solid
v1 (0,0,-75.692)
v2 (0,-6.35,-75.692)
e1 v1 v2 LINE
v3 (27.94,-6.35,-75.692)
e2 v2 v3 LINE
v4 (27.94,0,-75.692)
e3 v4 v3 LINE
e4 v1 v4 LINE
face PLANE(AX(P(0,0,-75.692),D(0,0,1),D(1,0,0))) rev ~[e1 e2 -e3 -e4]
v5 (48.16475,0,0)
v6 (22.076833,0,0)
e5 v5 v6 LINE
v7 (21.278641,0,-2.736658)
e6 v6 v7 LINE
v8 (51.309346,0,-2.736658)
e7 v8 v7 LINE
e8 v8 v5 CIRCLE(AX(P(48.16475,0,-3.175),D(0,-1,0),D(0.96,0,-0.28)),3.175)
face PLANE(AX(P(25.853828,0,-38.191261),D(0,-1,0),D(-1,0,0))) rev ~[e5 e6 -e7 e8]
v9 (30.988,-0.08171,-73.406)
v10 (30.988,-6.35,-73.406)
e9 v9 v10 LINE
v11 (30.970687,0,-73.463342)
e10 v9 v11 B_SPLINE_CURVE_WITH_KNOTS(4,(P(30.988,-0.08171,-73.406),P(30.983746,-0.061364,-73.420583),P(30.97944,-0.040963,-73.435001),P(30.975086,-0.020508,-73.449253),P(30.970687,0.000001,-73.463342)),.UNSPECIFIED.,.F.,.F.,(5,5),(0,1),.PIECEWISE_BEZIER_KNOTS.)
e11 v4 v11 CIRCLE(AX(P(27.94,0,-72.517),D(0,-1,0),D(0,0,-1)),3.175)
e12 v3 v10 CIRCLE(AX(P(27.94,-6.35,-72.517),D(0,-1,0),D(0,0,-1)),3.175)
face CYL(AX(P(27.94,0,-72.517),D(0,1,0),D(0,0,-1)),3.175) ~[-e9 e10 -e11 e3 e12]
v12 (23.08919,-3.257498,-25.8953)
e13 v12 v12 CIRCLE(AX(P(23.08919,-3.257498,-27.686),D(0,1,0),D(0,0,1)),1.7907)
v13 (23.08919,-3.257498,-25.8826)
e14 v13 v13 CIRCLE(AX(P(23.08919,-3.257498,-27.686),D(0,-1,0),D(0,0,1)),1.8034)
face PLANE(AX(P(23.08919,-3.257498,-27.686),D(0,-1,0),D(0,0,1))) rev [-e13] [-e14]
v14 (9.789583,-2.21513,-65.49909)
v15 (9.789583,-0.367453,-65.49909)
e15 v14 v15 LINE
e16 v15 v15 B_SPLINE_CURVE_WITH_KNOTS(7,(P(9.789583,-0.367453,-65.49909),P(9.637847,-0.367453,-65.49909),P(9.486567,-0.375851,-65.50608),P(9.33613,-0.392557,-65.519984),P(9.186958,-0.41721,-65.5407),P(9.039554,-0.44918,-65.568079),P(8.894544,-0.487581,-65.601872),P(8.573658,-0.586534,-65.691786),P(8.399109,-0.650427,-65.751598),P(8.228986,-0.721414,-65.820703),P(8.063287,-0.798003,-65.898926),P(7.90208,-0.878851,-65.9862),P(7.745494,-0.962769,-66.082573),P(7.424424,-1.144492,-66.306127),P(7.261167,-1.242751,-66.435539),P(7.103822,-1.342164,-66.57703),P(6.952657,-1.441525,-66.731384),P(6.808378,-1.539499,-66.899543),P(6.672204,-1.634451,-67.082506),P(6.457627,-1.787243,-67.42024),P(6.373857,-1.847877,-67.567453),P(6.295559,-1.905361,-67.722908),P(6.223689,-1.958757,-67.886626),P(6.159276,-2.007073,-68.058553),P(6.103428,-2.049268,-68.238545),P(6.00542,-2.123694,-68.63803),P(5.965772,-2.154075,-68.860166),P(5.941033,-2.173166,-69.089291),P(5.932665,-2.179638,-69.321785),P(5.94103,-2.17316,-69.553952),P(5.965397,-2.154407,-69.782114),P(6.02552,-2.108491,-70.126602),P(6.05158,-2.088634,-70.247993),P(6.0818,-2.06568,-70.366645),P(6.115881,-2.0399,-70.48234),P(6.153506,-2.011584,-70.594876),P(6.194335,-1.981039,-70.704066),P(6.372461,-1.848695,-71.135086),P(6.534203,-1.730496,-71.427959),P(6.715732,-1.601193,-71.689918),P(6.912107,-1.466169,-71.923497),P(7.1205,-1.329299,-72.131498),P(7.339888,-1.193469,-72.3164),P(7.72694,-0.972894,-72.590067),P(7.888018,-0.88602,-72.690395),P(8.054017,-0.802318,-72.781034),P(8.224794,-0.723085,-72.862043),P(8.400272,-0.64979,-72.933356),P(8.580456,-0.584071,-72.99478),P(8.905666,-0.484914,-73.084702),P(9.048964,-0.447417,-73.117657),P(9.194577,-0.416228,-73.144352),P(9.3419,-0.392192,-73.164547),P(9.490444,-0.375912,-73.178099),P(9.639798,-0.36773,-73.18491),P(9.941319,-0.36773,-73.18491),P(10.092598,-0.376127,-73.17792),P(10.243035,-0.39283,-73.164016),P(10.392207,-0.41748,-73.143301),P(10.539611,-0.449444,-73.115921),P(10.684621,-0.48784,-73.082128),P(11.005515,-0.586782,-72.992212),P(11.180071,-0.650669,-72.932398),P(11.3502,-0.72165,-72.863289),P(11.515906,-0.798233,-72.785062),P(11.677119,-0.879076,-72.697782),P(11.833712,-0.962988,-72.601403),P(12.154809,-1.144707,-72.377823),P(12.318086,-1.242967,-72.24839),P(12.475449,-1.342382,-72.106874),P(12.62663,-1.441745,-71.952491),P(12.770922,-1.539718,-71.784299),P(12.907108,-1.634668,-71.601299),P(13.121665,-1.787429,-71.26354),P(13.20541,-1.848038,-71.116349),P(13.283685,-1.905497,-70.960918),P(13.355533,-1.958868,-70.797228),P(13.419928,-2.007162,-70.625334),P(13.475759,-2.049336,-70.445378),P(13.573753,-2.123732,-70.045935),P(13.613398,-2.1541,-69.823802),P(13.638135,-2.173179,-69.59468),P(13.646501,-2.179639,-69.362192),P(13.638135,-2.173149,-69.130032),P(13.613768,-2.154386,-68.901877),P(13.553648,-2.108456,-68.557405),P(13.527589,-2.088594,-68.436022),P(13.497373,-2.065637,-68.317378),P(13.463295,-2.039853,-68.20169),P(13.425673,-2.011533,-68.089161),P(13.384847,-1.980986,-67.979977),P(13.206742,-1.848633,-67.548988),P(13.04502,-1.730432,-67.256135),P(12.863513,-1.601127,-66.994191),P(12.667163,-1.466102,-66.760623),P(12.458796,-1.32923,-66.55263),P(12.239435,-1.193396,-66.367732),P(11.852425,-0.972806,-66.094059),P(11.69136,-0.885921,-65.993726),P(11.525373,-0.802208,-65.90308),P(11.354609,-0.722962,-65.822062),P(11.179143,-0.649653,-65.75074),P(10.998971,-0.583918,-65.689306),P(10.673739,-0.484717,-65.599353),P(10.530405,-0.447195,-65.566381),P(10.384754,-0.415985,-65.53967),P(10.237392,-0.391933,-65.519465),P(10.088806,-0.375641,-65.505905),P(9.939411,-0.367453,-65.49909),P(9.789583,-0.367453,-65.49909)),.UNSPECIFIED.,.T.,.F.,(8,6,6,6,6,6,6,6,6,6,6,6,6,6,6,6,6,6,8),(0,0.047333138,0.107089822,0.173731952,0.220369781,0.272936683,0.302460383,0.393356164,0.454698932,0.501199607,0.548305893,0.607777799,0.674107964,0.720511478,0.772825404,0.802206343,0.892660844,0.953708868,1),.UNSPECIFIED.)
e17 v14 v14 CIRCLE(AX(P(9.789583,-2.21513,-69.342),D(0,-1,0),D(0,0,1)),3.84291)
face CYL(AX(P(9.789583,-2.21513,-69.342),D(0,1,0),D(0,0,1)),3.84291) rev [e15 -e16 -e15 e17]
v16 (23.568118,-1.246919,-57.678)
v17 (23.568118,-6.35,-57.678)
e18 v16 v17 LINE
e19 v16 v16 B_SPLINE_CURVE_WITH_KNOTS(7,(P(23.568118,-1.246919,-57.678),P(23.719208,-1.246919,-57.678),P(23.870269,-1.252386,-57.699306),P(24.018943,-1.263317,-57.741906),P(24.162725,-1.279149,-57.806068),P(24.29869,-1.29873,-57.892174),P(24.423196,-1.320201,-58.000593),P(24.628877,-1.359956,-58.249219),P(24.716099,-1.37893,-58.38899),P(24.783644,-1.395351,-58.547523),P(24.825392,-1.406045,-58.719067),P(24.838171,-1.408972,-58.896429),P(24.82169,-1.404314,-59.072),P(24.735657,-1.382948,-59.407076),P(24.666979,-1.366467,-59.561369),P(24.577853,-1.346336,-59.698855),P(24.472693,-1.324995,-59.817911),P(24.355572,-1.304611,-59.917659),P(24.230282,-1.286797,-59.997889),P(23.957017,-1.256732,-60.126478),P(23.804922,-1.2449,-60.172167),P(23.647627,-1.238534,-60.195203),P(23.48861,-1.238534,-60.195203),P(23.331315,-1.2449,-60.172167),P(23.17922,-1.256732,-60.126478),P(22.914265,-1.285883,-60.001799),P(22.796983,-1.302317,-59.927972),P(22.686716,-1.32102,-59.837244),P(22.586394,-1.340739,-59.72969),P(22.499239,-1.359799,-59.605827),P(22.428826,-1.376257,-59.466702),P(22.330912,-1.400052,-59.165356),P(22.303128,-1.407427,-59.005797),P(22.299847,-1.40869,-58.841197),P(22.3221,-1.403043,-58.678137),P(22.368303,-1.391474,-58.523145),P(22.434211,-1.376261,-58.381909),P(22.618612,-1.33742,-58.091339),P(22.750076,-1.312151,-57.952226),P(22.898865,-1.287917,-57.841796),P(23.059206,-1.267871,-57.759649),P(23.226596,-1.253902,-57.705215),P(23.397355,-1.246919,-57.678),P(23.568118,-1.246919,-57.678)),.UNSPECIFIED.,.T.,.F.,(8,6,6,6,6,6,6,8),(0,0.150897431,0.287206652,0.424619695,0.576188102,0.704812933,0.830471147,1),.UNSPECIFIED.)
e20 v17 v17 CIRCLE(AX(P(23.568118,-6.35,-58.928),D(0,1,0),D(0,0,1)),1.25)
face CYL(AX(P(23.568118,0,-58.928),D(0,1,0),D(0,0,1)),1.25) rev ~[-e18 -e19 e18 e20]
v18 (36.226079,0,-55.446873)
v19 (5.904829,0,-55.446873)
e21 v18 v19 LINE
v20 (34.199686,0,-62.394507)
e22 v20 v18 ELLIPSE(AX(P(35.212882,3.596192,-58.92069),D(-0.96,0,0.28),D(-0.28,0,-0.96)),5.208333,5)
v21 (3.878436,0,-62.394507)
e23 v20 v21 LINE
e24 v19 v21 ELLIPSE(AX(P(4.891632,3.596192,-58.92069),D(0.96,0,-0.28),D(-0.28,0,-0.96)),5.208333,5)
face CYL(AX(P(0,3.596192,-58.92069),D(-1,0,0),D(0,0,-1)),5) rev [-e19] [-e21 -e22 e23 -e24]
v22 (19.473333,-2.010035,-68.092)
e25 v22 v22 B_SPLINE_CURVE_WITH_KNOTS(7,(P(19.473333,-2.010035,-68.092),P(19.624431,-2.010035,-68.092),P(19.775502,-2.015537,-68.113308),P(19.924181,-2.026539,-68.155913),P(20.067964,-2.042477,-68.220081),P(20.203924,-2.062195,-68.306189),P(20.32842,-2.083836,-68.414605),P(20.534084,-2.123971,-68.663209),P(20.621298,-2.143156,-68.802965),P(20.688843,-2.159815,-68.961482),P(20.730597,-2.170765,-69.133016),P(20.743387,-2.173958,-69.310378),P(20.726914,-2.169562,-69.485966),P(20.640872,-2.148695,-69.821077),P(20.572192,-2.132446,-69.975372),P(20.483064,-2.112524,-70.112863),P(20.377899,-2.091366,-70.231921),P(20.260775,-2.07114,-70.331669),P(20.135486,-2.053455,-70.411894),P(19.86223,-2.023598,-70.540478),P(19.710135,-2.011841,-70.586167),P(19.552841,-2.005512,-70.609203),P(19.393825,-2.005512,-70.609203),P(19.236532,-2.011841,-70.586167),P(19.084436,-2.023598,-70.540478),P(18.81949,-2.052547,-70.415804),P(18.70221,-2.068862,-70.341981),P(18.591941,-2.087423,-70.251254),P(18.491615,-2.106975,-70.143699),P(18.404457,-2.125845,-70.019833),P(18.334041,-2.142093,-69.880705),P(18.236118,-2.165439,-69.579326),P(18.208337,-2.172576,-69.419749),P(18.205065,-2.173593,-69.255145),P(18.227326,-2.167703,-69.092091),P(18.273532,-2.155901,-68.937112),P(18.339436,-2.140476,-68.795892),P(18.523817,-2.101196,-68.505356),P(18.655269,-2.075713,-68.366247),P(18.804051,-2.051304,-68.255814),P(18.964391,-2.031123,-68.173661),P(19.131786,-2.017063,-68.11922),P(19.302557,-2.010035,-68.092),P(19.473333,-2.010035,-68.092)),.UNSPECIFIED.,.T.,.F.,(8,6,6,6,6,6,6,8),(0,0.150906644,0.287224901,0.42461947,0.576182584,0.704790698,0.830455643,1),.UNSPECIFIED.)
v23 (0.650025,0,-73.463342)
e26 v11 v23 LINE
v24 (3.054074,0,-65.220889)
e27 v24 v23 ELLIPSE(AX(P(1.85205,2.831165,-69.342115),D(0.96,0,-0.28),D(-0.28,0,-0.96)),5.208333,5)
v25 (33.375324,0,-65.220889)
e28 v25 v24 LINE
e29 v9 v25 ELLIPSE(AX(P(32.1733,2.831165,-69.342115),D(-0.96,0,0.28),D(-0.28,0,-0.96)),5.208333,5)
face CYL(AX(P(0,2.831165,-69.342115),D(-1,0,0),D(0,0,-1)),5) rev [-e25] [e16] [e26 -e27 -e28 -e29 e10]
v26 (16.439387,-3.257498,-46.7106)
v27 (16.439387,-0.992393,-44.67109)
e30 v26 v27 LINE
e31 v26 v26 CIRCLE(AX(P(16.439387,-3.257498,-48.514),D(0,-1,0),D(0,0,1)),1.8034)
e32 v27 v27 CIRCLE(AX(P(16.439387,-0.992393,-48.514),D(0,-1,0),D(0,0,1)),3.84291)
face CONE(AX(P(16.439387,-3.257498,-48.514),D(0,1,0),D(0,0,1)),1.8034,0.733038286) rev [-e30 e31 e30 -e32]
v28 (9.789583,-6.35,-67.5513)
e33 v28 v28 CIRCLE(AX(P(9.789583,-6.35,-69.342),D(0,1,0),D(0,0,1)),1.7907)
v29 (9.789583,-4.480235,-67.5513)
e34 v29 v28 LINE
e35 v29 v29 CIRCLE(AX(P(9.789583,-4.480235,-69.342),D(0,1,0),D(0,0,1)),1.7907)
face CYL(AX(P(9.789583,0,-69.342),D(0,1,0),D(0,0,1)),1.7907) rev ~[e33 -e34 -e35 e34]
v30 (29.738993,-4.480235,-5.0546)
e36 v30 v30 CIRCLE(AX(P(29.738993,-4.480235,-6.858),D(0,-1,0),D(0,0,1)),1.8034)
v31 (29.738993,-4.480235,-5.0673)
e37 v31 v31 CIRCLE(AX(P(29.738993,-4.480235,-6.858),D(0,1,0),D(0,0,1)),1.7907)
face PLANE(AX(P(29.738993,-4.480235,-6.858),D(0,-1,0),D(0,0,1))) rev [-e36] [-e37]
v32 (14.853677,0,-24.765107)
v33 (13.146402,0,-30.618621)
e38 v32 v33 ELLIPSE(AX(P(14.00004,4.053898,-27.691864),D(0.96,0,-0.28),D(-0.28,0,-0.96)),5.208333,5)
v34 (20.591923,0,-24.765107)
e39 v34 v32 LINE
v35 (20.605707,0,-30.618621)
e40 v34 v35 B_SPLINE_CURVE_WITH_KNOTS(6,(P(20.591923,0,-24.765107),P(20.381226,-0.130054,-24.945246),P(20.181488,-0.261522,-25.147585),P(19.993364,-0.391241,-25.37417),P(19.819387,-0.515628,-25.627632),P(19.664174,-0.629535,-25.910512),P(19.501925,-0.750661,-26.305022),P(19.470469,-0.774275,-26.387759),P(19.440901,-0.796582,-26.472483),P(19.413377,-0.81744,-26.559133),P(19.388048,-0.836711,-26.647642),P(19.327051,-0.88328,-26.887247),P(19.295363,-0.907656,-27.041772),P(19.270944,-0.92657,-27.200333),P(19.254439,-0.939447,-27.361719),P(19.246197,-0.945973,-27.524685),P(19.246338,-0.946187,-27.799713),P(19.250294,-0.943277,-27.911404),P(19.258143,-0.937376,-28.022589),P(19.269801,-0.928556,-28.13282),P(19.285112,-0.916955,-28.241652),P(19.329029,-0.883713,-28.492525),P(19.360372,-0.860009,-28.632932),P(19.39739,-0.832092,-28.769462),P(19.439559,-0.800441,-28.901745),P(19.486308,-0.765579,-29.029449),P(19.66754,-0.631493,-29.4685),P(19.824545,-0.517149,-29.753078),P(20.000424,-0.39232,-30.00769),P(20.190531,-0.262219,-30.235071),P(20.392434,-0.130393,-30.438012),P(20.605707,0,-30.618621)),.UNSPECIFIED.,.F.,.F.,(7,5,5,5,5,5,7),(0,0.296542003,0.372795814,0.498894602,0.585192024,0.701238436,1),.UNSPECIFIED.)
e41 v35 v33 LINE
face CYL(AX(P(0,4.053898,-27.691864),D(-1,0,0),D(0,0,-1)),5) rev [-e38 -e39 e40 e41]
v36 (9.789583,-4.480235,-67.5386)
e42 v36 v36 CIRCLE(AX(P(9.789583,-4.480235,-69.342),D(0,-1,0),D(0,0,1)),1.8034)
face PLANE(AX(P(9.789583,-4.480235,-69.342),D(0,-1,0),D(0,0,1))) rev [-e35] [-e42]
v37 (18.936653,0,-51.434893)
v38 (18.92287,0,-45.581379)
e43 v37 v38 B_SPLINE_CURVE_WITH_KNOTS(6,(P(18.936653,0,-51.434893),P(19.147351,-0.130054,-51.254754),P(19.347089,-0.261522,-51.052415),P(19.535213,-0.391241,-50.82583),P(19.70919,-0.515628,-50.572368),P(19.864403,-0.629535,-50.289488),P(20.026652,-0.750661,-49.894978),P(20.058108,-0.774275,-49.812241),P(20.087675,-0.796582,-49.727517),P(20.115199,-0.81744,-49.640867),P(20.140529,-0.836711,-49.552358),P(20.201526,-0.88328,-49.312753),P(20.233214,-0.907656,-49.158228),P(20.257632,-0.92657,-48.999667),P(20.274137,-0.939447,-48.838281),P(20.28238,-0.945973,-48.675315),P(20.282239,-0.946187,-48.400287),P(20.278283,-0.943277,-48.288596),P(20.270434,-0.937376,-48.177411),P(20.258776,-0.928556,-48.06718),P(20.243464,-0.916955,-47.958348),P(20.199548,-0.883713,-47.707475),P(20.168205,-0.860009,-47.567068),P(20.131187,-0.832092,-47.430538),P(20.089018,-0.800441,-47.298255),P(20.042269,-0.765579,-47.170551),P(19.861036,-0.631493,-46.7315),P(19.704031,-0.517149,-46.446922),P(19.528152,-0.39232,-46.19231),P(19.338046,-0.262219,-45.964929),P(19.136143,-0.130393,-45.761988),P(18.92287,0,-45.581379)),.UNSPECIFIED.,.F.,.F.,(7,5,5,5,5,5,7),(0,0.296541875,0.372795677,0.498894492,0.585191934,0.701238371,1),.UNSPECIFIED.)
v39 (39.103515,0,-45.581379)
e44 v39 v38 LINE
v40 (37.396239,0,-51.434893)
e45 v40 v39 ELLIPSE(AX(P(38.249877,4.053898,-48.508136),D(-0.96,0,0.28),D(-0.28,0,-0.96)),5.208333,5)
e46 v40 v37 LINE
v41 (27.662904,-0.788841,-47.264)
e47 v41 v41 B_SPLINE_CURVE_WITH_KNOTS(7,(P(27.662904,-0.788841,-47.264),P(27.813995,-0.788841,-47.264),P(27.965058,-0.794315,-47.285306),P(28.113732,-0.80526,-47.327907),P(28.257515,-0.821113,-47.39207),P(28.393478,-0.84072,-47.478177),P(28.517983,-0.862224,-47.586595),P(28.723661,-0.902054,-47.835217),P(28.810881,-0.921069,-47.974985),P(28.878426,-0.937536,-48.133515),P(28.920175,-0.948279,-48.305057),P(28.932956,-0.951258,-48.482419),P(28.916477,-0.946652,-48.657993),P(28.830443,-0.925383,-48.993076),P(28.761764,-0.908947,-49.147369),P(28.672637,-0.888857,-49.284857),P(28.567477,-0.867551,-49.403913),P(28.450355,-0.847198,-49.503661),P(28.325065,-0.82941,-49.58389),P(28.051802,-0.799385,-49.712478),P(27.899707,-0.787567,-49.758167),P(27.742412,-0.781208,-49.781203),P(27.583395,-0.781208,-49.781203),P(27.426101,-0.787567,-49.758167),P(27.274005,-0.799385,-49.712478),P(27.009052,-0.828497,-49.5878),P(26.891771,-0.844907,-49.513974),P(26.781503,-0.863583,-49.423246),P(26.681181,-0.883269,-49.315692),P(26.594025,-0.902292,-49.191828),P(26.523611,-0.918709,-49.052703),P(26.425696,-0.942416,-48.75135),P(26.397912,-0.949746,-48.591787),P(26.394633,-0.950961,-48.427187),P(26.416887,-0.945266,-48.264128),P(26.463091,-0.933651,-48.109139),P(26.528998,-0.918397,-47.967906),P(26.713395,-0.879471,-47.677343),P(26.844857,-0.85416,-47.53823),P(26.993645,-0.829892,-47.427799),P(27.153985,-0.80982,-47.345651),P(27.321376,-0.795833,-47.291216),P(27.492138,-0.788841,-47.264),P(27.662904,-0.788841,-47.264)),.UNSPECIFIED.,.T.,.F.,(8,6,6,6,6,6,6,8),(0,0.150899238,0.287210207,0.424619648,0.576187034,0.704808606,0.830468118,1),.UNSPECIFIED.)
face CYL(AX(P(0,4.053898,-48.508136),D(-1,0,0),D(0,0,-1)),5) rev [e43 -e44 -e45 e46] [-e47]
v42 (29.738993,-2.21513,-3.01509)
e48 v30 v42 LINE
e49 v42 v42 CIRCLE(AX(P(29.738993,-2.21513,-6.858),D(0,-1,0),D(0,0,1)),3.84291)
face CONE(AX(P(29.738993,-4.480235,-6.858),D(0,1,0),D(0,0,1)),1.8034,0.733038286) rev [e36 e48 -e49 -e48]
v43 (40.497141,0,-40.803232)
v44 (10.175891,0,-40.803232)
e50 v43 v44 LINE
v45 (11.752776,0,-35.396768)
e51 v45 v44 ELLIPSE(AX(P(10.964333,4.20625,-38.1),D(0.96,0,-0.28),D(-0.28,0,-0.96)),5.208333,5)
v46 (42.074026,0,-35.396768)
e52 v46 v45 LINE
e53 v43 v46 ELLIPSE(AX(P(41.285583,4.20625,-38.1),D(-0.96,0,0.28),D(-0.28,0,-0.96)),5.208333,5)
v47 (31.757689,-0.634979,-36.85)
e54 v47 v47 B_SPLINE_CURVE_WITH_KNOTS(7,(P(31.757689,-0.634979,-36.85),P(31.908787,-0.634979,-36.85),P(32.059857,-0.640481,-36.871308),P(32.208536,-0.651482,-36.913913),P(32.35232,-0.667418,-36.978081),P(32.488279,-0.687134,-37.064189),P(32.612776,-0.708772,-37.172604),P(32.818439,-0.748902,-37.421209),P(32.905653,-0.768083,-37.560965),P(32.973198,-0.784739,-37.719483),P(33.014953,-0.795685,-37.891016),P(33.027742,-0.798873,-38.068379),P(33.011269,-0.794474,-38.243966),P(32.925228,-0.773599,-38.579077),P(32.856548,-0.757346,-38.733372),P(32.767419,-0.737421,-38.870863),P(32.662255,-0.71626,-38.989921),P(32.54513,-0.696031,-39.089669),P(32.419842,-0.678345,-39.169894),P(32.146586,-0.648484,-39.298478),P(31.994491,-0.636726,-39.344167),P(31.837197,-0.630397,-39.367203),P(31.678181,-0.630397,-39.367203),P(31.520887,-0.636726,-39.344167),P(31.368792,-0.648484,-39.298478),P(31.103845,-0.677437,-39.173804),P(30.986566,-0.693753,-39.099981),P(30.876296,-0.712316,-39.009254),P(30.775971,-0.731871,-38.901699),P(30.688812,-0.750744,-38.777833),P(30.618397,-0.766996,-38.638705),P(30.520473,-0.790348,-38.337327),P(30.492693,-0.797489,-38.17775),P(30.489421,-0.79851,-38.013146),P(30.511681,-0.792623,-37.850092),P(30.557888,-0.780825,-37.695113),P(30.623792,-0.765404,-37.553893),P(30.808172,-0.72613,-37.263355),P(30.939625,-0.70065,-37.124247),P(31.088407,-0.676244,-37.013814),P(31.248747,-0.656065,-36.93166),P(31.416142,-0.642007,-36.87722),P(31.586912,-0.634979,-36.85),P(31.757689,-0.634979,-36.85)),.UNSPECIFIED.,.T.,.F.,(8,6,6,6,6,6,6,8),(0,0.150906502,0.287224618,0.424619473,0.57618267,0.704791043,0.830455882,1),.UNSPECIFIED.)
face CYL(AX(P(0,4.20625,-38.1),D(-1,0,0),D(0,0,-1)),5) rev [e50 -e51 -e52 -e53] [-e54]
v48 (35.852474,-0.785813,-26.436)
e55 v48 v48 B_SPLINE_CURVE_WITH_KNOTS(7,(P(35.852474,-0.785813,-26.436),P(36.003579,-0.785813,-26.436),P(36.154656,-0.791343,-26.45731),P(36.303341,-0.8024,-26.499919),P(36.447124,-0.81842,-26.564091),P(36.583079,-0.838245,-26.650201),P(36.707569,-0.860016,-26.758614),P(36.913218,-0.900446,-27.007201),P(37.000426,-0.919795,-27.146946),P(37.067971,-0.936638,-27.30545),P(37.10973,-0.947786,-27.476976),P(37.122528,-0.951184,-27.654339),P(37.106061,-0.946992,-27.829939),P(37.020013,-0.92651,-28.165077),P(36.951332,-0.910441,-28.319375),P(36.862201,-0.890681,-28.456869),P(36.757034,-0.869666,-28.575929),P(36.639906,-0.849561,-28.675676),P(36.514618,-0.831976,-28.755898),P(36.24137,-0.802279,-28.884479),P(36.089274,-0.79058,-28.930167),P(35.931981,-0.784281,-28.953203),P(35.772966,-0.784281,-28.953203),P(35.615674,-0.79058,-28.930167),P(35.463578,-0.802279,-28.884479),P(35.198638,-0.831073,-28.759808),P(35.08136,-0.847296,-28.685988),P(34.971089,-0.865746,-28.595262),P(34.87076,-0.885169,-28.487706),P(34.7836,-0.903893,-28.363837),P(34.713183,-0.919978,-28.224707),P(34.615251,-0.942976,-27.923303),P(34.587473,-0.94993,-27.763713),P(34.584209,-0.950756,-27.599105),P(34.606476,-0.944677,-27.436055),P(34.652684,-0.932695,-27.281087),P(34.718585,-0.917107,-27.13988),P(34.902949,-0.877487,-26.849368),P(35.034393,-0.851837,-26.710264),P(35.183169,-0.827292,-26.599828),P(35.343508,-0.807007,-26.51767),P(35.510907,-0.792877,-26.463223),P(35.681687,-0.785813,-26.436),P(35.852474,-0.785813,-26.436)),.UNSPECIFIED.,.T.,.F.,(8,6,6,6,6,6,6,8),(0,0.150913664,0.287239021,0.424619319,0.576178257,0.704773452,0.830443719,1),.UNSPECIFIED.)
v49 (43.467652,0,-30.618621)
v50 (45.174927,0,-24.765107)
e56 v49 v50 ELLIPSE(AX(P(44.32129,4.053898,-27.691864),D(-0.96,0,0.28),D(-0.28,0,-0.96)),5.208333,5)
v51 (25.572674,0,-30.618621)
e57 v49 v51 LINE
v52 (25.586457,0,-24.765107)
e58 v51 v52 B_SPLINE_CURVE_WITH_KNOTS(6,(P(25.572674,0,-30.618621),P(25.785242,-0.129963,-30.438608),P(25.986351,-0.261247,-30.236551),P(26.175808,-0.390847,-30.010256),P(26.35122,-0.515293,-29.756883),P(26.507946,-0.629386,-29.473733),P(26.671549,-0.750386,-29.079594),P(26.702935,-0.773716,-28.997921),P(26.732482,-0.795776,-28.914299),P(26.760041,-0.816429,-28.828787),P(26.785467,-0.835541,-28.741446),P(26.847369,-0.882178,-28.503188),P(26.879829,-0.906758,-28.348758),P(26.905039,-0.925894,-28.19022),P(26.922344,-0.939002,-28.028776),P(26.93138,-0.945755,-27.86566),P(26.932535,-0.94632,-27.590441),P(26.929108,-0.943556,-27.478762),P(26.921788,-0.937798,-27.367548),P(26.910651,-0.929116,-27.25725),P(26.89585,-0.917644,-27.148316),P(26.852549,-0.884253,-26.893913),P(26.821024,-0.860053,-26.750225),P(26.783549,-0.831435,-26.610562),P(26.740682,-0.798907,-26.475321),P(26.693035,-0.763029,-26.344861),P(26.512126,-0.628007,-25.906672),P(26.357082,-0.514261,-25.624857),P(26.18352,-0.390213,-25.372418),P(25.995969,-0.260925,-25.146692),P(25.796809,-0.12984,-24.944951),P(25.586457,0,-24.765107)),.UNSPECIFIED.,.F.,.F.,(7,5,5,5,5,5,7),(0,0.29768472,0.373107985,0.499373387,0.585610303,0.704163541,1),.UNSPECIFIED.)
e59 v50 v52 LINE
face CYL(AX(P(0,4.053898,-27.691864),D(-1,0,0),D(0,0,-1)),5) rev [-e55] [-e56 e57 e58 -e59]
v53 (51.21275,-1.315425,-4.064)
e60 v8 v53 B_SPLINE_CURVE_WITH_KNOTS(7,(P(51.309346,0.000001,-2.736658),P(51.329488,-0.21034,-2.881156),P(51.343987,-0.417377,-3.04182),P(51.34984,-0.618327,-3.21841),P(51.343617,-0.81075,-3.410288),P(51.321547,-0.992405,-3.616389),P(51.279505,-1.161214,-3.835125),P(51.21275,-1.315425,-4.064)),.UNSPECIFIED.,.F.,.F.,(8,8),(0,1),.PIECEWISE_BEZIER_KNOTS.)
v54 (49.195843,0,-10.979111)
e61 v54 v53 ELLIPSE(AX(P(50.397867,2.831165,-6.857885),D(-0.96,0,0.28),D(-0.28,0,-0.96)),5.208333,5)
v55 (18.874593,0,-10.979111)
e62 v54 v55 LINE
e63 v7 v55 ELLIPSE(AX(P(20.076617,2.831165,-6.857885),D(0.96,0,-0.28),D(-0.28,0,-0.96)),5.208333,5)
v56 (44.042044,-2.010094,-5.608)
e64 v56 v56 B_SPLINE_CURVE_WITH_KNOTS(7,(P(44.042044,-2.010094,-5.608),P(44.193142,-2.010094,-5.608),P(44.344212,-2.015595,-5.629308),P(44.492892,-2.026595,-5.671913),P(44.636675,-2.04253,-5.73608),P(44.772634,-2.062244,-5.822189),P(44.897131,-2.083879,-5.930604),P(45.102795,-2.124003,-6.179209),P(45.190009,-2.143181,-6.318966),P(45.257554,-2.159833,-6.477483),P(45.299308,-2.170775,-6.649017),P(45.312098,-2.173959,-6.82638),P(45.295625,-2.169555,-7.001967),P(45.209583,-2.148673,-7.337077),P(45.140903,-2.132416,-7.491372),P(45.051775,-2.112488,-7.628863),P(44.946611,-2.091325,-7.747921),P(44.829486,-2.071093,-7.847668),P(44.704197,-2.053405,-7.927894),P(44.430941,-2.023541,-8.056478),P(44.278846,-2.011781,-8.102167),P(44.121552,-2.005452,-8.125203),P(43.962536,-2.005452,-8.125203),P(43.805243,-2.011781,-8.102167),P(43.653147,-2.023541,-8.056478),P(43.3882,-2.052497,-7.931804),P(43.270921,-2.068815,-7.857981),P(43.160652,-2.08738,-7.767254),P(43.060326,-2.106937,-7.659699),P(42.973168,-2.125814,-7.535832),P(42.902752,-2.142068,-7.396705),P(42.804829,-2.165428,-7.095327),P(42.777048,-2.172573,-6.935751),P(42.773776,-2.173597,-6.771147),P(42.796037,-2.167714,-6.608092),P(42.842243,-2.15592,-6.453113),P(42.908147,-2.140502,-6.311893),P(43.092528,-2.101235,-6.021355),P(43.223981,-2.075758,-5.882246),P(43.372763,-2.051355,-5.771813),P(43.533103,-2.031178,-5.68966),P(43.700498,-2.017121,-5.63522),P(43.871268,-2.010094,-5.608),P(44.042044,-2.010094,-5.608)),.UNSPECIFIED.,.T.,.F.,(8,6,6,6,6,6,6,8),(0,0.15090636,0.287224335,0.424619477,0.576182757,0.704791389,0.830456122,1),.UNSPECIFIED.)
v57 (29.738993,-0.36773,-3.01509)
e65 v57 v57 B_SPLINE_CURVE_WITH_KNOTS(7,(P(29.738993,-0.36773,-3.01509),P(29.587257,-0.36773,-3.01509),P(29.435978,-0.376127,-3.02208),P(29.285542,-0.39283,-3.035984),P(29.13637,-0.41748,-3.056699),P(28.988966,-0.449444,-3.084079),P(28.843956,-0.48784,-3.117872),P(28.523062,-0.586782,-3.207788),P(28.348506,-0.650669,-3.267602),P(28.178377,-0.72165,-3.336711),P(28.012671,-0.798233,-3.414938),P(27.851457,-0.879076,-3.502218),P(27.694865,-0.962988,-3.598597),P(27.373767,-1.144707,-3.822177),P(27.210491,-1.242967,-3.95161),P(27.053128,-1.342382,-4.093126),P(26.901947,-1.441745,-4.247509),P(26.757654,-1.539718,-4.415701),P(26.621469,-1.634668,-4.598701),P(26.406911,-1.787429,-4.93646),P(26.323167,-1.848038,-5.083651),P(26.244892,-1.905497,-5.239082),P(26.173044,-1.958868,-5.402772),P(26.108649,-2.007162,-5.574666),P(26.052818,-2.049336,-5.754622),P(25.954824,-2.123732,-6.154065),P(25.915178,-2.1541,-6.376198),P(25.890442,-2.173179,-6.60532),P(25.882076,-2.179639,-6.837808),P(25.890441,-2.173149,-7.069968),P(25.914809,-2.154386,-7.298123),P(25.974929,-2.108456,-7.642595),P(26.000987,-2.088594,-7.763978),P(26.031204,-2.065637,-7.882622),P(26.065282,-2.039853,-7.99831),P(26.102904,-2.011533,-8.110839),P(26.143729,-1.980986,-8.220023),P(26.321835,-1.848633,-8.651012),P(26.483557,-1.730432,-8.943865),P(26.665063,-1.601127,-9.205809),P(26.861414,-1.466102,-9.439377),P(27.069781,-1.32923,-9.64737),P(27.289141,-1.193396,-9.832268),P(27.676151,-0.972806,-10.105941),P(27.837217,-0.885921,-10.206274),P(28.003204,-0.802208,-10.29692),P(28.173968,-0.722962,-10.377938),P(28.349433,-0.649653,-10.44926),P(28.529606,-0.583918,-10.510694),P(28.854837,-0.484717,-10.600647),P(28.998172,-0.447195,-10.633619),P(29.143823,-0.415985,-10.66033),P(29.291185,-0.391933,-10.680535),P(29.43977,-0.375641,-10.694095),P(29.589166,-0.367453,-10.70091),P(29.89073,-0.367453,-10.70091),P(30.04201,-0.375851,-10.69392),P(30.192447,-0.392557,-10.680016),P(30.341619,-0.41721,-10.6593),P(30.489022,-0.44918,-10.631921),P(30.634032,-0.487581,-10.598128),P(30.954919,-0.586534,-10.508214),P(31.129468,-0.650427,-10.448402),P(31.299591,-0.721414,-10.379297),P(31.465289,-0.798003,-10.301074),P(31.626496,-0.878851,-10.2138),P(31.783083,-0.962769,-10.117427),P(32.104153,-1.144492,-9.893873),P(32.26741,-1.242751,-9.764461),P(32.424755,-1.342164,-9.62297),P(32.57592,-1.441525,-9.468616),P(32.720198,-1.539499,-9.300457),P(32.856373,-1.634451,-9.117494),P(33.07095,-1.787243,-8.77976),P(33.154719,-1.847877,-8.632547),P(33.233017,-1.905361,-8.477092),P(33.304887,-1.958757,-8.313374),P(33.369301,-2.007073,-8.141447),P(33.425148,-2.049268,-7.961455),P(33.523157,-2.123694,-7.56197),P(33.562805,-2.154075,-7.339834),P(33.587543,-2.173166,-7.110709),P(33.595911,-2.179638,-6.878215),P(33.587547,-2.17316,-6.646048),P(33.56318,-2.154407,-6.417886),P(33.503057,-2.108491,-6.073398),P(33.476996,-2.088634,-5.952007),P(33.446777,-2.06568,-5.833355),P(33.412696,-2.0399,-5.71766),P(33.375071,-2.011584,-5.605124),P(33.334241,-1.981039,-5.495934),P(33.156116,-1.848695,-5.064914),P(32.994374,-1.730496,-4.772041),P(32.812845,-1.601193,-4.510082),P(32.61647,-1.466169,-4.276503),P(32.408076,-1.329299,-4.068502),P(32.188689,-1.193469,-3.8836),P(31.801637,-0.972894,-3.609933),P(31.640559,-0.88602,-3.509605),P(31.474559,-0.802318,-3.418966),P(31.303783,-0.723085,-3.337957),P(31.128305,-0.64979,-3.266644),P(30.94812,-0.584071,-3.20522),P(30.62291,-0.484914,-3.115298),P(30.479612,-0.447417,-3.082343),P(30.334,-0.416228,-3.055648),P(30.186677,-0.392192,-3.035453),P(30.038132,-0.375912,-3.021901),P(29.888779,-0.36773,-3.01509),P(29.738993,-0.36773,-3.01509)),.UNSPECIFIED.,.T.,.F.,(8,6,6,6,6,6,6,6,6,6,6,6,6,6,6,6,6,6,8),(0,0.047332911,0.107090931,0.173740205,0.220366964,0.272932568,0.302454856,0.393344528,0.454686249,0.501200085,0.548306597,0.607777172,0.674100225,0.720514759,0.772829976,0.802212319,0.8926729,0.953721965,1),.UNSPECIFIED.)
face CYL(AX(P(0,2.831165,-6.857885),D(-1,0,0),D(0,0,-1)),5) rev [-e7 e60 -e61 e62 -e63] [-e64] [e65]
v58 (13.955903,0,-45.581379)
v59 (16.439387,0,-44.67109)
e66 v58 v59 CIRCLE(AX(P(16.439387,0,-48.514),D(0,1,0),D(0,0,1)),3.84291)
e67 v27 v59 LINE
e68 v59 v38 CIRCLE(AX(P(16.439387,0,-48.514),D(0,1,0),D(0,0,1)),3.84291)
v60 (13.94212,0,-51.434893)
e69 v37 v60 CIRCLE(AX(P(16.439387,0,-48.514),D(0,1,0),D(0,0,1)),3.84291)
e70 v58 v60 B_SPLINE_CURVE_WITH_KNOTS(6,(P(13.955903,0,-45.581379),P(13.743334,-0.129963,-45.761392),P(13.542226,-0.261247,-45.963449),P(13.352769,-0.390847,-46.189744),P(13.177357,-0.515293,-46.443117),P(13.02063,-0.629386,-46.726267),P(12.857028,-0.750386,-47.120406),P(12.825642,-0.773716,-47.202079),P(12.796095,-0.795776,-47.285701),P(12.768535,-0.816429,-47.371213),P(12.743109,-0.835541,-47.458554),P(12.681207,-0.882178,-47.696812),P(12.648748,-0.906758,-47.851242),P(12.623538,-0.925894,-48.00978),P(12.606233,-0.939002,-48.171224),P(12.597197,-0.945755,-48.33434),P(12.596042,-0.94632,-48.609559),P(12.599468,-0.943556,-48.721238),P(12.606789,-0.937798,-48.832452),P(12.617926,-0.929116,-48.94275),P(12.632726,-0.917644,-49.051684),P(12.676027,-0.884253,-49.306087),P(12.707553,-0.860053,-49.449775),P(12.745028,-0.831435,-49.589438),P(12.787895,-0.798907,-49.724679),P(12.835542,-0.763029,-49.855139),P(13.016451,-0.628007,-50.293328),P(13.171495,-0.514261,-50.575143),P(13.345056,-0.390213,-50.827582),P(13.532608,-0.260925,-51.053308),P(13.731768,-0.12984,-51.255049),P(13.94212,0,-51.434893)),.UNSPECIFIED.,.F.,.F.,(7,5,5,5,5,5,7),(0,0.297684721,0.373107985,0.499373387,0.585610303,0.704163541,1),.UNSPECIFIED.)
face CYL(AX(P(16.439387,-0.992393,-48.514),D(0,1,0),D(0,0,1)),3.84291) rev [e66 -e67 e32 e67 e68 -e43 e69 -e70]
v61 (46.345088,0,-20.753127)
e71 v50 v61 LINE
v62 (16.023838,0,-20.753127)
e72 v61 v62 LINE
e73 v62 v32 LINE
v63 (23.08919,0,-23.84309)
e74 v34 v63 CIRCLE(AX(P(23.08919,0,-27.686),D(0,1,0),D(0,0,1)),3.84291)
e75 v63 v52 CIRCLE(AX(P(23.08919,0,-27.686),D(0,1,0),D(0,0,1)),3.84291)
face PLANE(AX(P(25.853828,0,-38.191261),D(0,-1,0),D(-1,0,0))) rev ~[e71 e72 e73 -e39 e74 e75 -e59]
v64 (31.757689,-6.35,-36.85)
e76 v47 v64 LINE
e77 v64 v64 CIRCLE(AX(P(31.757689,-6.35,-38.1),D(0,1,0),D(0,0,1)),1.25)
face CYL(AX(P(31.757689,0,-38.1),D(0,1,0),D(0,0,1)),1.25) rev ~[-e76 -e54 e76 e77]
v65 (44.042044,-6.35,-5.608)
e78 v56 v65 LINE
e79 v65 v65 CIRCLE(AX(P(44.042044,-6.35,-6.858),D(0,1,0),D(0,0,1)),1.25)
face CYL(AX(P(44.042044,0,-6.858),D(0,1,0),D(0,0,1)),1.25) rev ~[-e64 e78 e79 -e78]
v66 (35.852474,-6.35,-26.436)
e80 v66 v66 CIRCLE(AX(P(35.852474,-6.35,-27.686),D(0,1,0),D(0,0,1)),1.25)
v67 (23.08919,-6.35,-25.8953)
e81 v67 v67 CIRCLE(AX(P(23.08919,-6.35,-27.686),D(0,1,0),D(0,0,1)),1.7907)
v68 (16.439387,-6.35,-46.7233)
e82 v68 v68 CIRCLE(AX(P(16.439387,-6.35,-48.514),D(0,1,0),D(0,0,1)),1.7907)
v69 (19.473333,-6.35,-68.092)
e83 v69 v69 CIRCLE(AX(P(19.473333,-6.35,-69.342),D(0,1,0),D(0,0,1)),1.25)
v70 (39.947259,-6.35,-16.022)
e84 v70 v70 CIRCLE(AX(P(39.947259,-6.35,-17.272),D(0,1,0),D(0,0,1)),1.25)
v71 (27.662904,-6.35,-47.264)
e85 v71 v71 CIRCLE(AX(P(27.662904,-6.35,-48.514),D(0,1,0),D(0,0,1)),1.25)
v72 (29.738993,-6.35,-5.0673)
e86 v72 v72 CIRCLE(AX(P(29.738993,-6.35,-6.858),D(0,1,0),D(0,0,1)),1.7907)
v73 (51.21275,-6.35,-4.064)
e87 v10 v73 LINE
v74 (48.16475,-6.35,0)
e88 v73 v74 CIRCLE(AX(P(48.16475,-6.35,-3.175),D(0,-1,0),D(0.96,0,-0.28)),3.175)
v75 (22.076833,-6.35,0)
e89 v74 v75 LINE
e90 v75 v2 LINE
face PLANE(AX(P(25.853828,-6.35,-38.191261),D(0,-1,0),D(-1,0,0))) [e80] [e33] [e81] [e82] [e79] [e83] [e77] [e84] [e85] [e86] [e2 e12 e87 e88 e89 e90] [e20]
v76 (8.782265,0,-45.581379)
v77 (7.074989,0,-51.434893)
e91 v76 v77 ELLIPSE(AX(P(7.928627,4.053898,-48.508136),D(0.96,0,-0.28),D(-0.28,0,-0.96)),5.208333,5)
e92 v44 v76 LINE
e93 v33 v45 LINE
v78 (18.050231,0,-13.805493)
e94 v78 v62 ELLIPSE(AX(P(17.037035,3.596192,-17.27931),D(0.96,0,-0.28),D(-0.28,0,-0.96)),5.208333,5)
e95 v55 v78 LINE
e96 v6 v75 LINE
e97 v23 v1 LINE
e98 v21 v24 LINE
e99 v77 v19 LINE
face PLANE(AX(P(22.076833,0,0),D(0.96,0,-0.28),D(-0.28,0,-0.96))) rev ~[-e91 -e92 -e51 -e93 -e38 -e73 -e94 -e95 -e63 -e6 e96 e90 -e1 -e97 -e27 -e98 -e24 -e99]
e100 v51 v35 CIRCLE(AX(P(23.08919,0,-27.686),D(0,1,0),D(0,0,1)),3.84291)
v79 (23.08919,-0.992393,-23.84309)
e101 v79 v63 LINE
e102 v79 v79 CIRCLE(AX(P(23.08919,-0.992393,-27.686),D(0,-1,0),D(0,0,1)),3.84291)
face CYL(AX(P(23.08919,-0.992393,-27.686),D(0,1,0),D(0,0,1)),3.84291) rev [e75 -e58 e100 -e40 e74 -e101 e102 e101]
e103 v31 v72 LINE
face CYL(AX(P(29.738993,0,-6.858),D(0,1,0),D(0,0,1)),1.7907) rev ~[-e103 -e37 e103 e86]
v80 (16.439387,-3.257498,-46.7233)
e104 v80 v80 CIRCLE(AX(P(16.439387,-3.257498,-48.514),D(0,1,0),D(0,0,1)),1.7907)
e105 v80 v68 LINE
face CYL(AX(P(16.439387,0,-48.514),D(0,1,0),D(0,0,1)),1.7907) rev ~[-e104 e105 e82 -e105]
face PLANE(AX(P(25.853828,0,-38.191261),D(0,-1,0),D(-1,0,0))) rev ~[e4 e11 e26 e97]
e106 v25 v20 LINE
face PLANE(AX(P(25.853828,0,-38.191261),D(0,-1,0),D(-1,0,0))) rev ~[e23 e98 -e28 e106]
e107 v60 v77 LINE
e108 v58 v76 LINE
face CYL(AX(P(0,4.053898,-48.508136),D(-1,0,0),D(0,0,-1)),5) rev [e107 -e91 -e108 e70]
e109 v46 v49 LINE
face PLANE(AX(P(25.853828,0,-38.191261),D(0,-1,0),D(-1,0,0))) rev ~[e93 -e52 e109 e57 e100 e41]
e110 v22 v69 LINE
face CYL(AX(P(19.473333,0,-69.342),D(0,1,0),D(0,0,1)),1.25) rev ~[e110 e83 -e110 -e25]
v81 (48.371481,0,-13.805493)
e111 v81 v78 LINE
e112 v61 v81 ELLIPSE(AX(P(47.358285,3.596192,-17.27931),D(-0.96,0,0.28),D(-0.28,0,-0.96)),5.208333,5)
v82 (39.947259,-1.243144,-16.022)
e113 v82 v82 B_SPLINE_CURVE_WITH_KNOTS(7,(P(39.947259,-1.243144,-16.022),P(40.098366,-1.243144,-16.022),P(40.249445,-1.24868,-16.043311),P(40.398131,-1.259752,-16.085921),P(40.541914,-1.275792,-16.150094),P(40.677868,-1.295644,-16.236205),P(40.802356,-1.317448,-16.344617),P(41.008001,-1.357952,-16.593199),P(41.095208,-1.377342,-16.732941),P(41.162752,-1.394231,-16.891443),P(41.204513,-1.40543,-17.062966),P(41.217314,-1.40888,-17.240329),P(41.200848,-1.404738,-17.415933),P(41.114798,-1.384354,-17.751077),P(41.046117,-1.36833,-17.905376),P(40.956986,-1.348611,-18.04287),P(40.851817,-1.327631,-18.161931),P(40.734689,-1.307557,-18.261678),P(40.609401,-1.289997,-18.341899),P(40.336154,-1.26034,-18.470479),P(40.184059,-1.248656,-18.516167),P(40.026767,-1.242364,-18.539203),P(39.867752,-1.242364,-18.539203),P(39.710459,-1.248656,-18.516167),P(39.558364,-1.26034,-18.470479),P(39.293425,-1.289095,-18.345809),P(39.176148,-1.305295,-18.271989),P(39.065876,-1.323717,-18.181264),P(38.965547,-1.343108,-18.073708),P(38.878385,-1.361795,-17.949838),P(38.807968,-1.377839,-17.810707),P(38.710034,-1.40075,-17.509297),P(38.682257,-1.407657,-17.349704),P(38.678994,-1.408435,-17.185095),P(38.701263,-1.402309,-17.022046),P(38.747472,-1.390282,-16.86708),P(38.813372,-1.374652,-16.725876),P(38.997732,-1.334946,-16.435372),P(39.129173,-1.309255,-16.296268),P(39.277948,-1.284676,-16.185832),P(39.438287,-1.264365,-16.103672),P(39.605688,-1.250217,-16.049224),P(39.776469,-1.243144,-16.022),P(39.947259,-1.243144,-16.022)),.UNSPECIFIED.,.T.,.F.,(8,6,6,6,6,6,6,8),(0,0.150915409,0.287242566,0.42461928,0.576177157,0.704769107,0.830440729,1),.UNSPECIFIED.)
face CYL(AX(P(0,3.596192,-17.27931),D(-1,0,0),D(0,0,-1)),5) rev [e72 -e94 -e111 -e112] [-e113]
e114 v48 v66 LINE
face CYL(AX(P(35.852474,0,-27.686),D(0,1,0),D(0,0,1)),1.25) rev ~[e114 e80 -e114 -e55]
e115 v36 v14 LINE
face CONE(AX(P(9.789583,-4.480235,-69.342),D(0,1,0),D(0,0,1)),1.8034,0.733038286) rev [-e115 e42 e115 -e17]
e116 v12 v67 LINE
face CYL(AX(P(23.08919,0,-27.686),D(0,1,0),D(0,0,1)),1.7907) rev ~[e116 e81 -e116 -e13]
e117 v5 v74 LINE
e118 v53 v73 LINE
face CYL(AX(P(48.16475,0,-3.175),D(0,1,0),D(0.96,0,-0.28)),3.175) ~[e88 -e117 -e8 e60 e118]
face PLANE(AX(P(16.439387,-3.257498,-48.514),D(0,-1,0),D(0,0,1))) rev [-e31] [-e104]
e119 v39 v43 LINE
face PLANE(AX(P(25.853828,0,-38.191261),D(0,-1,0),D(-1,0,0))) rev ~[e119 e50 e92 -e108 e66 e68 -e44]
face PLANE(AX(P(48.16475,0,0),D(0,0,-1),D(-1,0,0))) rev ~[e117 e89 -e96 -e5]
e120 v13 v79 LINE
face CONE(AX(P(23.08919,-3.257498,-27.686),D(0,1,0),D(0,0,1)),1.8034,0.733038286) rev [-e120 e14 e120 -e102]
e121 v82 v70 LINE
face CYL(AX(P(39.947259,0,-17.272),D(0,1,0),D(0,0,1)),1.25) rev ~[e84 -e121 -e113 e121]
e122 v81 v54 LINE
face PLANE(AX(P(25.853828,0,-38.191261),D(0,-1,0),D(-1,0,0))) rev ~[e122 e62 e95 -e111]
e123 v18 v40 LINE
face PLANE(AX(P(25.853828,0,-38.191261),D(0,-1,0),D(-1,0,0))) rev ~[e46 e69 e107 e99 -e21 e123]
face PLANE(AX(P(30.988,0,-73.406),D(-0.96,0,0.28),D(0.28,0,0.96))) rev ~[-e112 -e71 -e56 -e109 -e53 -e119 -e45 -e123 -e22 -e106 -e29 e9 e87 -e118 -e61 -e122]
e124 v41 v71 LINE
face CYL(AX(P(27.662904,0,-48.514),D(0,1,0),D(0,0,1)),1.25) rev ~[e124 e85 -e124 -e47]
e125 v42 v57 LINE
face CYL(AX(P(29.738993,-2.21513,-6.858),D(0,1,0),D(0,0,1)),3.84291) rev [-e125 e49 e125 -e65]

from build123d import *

# Parameters (mm, degrees)
BOSS_EXTRUDE2_DEPTH = 6.35
SKETCH7_R           = 5
CUT_EXTRUDE1_DEPTH  = 74.422
SKETCH22_R          = 1.7907
CUT_EXTRUDE2_DEPTH  = 74.422
SKETCH21_R          = 1.25
CUT_EXTRUDE3_DEPTH  = 74.422


with BuildPart() as part:
    # Sketch3 → Boss-Extrude2 (new body)
    with BuildSketch(Plane(origin=(0, 0, 0), x_dir=(1, 0, 0), z_dir=(0, 1, 0))):
        with BuildLine():
            Line((30.988, 73.406), (51.21275, 4.064))
            ThreePointArc((51.21275, 4.064), (50.70475, 1.27), (48.16475, 0))
            Line((48.16475, 0), (22.076833333, 0))
            Line((22.076833333, 0), (0, 75.692))
            Line((0, 75.692), (27.94, 75.692))
            ThreePointArc((27.94, 75.692), (29.845, 75.057), (30.988, 73.406))
        make_face()
    extrude(amount=-BOSS_EXTRUDE2_DEPTH)

    # Sketch7 → Cut-Extrude1 (cut)
    with BuildSketch(Plane(origin=(0, 0, 0), x_dir=(0, 0, -1), z_dir=(1, 0, 0))):
        with Locations((6.857884732, 2.831164756)):
            Circle(SKETCH7_R)
        with Locations((17.279310179, 3.596191936)):
            Circle(SKETCH7_R)
        with Locations((27.691863994, 4.053898332)):
            Circle(SKETCH7_R)
        with Locations((38.1, 4.20625)):
            Circle(SKETCH7_R)
        with Locations((48.508136006, 4.053898332)):
            Circle(SKETCH7_R)
        with Locations((58.920689821, 3.596191936)):
            Circle(SKETCH7_R)
        with Locations((69.342115268, 2.831164756)):
            Circle(SKETCH7_R)
    extrude(amount=CUT_EXTRUDE1_DEPTH, mode=Mode.SUBTRACT)

    # Sketch22 → Cut-Extrude2 (cut)
    with BuildSketch(Plane(origin=(0, 0, 0), x_dir=(1, 0, 0), z_dir=(0, 1, 0))):
        with Locations(Location((9.789583333, 69.342, 0), (0, 0, 270))):
            Circle(SKETCH22_R)
        with Locations(Location((16.439386687, 48.514, 0), (0, 0, 270))):
            Circle(SKETCH22_R)
        with Locations(Location((23.08919004, 27.686, 0), (0, 0, 270))):
            Circle(SKETCH22_R)
        with Locations(Location((29.738993393, 6.858, 0), (0, 0, 270))):
            Circle(SKETCH22_R)
    extrude(amount=-CUT_EXTRUDE2_DEPTH, mode=Mode.SUBTRACT)

    # Sketch21 → Cut-Extrude3 (cut)
    with BuildSketch(Plane(origin=(0, 0, 0), x_dir=(1, 0, 0), z_dir=(0, 1, 0))):
        with Locations(Location((19.473333333, 69.342, 0), (0, 0, 270))):
            Circle(SKETCH21_R)
        with Locations(Location((23.568118499, 58.928, 0), (0, 0, 270))):
            Circle(SKETCH21_R)
        with Locations(Location((27.662903665, 48.514, 0), (0, 0, 270))):
            Circle(SKETCH21_R)
        with Locations(Location((31.757688831, 38.1, 0), (0, 0, 270))):
            Circle(SKETCH21_R)
        with Locations(Location((35.852473996, 27.686, 0), (0, 0, 270))):
            Circle(SKETCH21_R)
        with Locations(Location((39.947259162, 17.272, 0), (0, 0, 270))):
            Circle(SKETCH21_R)
        with Locations(Location((44.042044328, 6.858, 0), (0, 0, 270))):
            Circle(SKETCH21_R)
    extrude(amount=-CUT_EXTRUDE3_DEPTH, mode=Mode.SUBTRACT)

    # Sketch24 → Cut-Revolve1 (revolve, cut)
    with BuildSketch(Plane(origin=(9.789583333, 0, 0), x_dir=(0, 0, -1), z_dir=(1, 0, 0)), mode=Mode.PRIVATE) as cut_revolve1_sk:
        Polygon((69.342, 1.594870185), (69.342, -2.168835243), (69.342, -4.480235243), (71.1454, -4.480235243), (73.184910088, -2.215129815), (73.184910088, 1.594870185), align=None)
    revolve(cut_revolve1_sk.sketch.rotate(Axis((9.789583333, 1.594870185, -69.342), (0, -1, 0)), 180), axis=Axis((9.789583333, 1.594870185, -69.342), (0, -1, 0)), mode=Mode.SUBTRACT)

    # Sketch26 → Cut-Revolve2 (revolve, cut)
    with BuildSketch(Plane(origin=(16.439386687, 0, 0), x_dir=(0, 0, -1), z_dir=(1, 0, 0)), mode=Mode.PRIVATE) as cut_revolve2_sk:
        Polygon((48.514, -0.946098229), (48.514, -3.257498229), (50.3174, -3.257498229), (52.356910088, -0.992392801), (52.356910088, 3.057918479), (48.514, 3.057918479), align=None)
    revolve(cut_revolve2_sk.sketch.rotate(Axis((16.439386687, 3.057918479, -48.514), (0, -1, 0)), 180), axis=Axis((16.439386687, 3.057918479, -48.514), (0, -1, 0)), mode=Mode.SUBTRACT)

    # Sketch28 → Cut-Revolve3 (revolve, cut)
    with BuildSketch(Plane(origin=(23.08919004, 0, 0), x_dir=(0, 0, -1), z_dir=(1, 0, 0))):
        Polygon((27.686, 3.057918479), (27.686, -0.946098229), (27.686, -3.257498229), (25.8826, -3.257498229), (23.843089912, -0.992392801), (23.843089912, 3.057918479), align=None)
    revolve(axis=Axis((23.08919004, 3.057918479, -27.686), (0, -1, 0)), mode=Mode.SUBTRACT)

    # Sketch29 → Cut-Revolve4 (revolve, cut)
    with BuildSketch(Plane(origin=(29.738993393, 0, 0), x_dir=(0, 0, -1), z_dir=(1, 0, 0))):
        Polygon((3.015089912, 1.594870185), (6.858, 1.594870185), (6.858, -2.168835243), (6.858, -4.480235243), (5.0546, -4.480235243), (3.015089912, -2.215129815), align=None)
    revolve(axis=Axis((29.738993393, 1.594870185, -6.858), (0, -1, 0)), mode=Mode.SUBTRACT)


solid = part.part
